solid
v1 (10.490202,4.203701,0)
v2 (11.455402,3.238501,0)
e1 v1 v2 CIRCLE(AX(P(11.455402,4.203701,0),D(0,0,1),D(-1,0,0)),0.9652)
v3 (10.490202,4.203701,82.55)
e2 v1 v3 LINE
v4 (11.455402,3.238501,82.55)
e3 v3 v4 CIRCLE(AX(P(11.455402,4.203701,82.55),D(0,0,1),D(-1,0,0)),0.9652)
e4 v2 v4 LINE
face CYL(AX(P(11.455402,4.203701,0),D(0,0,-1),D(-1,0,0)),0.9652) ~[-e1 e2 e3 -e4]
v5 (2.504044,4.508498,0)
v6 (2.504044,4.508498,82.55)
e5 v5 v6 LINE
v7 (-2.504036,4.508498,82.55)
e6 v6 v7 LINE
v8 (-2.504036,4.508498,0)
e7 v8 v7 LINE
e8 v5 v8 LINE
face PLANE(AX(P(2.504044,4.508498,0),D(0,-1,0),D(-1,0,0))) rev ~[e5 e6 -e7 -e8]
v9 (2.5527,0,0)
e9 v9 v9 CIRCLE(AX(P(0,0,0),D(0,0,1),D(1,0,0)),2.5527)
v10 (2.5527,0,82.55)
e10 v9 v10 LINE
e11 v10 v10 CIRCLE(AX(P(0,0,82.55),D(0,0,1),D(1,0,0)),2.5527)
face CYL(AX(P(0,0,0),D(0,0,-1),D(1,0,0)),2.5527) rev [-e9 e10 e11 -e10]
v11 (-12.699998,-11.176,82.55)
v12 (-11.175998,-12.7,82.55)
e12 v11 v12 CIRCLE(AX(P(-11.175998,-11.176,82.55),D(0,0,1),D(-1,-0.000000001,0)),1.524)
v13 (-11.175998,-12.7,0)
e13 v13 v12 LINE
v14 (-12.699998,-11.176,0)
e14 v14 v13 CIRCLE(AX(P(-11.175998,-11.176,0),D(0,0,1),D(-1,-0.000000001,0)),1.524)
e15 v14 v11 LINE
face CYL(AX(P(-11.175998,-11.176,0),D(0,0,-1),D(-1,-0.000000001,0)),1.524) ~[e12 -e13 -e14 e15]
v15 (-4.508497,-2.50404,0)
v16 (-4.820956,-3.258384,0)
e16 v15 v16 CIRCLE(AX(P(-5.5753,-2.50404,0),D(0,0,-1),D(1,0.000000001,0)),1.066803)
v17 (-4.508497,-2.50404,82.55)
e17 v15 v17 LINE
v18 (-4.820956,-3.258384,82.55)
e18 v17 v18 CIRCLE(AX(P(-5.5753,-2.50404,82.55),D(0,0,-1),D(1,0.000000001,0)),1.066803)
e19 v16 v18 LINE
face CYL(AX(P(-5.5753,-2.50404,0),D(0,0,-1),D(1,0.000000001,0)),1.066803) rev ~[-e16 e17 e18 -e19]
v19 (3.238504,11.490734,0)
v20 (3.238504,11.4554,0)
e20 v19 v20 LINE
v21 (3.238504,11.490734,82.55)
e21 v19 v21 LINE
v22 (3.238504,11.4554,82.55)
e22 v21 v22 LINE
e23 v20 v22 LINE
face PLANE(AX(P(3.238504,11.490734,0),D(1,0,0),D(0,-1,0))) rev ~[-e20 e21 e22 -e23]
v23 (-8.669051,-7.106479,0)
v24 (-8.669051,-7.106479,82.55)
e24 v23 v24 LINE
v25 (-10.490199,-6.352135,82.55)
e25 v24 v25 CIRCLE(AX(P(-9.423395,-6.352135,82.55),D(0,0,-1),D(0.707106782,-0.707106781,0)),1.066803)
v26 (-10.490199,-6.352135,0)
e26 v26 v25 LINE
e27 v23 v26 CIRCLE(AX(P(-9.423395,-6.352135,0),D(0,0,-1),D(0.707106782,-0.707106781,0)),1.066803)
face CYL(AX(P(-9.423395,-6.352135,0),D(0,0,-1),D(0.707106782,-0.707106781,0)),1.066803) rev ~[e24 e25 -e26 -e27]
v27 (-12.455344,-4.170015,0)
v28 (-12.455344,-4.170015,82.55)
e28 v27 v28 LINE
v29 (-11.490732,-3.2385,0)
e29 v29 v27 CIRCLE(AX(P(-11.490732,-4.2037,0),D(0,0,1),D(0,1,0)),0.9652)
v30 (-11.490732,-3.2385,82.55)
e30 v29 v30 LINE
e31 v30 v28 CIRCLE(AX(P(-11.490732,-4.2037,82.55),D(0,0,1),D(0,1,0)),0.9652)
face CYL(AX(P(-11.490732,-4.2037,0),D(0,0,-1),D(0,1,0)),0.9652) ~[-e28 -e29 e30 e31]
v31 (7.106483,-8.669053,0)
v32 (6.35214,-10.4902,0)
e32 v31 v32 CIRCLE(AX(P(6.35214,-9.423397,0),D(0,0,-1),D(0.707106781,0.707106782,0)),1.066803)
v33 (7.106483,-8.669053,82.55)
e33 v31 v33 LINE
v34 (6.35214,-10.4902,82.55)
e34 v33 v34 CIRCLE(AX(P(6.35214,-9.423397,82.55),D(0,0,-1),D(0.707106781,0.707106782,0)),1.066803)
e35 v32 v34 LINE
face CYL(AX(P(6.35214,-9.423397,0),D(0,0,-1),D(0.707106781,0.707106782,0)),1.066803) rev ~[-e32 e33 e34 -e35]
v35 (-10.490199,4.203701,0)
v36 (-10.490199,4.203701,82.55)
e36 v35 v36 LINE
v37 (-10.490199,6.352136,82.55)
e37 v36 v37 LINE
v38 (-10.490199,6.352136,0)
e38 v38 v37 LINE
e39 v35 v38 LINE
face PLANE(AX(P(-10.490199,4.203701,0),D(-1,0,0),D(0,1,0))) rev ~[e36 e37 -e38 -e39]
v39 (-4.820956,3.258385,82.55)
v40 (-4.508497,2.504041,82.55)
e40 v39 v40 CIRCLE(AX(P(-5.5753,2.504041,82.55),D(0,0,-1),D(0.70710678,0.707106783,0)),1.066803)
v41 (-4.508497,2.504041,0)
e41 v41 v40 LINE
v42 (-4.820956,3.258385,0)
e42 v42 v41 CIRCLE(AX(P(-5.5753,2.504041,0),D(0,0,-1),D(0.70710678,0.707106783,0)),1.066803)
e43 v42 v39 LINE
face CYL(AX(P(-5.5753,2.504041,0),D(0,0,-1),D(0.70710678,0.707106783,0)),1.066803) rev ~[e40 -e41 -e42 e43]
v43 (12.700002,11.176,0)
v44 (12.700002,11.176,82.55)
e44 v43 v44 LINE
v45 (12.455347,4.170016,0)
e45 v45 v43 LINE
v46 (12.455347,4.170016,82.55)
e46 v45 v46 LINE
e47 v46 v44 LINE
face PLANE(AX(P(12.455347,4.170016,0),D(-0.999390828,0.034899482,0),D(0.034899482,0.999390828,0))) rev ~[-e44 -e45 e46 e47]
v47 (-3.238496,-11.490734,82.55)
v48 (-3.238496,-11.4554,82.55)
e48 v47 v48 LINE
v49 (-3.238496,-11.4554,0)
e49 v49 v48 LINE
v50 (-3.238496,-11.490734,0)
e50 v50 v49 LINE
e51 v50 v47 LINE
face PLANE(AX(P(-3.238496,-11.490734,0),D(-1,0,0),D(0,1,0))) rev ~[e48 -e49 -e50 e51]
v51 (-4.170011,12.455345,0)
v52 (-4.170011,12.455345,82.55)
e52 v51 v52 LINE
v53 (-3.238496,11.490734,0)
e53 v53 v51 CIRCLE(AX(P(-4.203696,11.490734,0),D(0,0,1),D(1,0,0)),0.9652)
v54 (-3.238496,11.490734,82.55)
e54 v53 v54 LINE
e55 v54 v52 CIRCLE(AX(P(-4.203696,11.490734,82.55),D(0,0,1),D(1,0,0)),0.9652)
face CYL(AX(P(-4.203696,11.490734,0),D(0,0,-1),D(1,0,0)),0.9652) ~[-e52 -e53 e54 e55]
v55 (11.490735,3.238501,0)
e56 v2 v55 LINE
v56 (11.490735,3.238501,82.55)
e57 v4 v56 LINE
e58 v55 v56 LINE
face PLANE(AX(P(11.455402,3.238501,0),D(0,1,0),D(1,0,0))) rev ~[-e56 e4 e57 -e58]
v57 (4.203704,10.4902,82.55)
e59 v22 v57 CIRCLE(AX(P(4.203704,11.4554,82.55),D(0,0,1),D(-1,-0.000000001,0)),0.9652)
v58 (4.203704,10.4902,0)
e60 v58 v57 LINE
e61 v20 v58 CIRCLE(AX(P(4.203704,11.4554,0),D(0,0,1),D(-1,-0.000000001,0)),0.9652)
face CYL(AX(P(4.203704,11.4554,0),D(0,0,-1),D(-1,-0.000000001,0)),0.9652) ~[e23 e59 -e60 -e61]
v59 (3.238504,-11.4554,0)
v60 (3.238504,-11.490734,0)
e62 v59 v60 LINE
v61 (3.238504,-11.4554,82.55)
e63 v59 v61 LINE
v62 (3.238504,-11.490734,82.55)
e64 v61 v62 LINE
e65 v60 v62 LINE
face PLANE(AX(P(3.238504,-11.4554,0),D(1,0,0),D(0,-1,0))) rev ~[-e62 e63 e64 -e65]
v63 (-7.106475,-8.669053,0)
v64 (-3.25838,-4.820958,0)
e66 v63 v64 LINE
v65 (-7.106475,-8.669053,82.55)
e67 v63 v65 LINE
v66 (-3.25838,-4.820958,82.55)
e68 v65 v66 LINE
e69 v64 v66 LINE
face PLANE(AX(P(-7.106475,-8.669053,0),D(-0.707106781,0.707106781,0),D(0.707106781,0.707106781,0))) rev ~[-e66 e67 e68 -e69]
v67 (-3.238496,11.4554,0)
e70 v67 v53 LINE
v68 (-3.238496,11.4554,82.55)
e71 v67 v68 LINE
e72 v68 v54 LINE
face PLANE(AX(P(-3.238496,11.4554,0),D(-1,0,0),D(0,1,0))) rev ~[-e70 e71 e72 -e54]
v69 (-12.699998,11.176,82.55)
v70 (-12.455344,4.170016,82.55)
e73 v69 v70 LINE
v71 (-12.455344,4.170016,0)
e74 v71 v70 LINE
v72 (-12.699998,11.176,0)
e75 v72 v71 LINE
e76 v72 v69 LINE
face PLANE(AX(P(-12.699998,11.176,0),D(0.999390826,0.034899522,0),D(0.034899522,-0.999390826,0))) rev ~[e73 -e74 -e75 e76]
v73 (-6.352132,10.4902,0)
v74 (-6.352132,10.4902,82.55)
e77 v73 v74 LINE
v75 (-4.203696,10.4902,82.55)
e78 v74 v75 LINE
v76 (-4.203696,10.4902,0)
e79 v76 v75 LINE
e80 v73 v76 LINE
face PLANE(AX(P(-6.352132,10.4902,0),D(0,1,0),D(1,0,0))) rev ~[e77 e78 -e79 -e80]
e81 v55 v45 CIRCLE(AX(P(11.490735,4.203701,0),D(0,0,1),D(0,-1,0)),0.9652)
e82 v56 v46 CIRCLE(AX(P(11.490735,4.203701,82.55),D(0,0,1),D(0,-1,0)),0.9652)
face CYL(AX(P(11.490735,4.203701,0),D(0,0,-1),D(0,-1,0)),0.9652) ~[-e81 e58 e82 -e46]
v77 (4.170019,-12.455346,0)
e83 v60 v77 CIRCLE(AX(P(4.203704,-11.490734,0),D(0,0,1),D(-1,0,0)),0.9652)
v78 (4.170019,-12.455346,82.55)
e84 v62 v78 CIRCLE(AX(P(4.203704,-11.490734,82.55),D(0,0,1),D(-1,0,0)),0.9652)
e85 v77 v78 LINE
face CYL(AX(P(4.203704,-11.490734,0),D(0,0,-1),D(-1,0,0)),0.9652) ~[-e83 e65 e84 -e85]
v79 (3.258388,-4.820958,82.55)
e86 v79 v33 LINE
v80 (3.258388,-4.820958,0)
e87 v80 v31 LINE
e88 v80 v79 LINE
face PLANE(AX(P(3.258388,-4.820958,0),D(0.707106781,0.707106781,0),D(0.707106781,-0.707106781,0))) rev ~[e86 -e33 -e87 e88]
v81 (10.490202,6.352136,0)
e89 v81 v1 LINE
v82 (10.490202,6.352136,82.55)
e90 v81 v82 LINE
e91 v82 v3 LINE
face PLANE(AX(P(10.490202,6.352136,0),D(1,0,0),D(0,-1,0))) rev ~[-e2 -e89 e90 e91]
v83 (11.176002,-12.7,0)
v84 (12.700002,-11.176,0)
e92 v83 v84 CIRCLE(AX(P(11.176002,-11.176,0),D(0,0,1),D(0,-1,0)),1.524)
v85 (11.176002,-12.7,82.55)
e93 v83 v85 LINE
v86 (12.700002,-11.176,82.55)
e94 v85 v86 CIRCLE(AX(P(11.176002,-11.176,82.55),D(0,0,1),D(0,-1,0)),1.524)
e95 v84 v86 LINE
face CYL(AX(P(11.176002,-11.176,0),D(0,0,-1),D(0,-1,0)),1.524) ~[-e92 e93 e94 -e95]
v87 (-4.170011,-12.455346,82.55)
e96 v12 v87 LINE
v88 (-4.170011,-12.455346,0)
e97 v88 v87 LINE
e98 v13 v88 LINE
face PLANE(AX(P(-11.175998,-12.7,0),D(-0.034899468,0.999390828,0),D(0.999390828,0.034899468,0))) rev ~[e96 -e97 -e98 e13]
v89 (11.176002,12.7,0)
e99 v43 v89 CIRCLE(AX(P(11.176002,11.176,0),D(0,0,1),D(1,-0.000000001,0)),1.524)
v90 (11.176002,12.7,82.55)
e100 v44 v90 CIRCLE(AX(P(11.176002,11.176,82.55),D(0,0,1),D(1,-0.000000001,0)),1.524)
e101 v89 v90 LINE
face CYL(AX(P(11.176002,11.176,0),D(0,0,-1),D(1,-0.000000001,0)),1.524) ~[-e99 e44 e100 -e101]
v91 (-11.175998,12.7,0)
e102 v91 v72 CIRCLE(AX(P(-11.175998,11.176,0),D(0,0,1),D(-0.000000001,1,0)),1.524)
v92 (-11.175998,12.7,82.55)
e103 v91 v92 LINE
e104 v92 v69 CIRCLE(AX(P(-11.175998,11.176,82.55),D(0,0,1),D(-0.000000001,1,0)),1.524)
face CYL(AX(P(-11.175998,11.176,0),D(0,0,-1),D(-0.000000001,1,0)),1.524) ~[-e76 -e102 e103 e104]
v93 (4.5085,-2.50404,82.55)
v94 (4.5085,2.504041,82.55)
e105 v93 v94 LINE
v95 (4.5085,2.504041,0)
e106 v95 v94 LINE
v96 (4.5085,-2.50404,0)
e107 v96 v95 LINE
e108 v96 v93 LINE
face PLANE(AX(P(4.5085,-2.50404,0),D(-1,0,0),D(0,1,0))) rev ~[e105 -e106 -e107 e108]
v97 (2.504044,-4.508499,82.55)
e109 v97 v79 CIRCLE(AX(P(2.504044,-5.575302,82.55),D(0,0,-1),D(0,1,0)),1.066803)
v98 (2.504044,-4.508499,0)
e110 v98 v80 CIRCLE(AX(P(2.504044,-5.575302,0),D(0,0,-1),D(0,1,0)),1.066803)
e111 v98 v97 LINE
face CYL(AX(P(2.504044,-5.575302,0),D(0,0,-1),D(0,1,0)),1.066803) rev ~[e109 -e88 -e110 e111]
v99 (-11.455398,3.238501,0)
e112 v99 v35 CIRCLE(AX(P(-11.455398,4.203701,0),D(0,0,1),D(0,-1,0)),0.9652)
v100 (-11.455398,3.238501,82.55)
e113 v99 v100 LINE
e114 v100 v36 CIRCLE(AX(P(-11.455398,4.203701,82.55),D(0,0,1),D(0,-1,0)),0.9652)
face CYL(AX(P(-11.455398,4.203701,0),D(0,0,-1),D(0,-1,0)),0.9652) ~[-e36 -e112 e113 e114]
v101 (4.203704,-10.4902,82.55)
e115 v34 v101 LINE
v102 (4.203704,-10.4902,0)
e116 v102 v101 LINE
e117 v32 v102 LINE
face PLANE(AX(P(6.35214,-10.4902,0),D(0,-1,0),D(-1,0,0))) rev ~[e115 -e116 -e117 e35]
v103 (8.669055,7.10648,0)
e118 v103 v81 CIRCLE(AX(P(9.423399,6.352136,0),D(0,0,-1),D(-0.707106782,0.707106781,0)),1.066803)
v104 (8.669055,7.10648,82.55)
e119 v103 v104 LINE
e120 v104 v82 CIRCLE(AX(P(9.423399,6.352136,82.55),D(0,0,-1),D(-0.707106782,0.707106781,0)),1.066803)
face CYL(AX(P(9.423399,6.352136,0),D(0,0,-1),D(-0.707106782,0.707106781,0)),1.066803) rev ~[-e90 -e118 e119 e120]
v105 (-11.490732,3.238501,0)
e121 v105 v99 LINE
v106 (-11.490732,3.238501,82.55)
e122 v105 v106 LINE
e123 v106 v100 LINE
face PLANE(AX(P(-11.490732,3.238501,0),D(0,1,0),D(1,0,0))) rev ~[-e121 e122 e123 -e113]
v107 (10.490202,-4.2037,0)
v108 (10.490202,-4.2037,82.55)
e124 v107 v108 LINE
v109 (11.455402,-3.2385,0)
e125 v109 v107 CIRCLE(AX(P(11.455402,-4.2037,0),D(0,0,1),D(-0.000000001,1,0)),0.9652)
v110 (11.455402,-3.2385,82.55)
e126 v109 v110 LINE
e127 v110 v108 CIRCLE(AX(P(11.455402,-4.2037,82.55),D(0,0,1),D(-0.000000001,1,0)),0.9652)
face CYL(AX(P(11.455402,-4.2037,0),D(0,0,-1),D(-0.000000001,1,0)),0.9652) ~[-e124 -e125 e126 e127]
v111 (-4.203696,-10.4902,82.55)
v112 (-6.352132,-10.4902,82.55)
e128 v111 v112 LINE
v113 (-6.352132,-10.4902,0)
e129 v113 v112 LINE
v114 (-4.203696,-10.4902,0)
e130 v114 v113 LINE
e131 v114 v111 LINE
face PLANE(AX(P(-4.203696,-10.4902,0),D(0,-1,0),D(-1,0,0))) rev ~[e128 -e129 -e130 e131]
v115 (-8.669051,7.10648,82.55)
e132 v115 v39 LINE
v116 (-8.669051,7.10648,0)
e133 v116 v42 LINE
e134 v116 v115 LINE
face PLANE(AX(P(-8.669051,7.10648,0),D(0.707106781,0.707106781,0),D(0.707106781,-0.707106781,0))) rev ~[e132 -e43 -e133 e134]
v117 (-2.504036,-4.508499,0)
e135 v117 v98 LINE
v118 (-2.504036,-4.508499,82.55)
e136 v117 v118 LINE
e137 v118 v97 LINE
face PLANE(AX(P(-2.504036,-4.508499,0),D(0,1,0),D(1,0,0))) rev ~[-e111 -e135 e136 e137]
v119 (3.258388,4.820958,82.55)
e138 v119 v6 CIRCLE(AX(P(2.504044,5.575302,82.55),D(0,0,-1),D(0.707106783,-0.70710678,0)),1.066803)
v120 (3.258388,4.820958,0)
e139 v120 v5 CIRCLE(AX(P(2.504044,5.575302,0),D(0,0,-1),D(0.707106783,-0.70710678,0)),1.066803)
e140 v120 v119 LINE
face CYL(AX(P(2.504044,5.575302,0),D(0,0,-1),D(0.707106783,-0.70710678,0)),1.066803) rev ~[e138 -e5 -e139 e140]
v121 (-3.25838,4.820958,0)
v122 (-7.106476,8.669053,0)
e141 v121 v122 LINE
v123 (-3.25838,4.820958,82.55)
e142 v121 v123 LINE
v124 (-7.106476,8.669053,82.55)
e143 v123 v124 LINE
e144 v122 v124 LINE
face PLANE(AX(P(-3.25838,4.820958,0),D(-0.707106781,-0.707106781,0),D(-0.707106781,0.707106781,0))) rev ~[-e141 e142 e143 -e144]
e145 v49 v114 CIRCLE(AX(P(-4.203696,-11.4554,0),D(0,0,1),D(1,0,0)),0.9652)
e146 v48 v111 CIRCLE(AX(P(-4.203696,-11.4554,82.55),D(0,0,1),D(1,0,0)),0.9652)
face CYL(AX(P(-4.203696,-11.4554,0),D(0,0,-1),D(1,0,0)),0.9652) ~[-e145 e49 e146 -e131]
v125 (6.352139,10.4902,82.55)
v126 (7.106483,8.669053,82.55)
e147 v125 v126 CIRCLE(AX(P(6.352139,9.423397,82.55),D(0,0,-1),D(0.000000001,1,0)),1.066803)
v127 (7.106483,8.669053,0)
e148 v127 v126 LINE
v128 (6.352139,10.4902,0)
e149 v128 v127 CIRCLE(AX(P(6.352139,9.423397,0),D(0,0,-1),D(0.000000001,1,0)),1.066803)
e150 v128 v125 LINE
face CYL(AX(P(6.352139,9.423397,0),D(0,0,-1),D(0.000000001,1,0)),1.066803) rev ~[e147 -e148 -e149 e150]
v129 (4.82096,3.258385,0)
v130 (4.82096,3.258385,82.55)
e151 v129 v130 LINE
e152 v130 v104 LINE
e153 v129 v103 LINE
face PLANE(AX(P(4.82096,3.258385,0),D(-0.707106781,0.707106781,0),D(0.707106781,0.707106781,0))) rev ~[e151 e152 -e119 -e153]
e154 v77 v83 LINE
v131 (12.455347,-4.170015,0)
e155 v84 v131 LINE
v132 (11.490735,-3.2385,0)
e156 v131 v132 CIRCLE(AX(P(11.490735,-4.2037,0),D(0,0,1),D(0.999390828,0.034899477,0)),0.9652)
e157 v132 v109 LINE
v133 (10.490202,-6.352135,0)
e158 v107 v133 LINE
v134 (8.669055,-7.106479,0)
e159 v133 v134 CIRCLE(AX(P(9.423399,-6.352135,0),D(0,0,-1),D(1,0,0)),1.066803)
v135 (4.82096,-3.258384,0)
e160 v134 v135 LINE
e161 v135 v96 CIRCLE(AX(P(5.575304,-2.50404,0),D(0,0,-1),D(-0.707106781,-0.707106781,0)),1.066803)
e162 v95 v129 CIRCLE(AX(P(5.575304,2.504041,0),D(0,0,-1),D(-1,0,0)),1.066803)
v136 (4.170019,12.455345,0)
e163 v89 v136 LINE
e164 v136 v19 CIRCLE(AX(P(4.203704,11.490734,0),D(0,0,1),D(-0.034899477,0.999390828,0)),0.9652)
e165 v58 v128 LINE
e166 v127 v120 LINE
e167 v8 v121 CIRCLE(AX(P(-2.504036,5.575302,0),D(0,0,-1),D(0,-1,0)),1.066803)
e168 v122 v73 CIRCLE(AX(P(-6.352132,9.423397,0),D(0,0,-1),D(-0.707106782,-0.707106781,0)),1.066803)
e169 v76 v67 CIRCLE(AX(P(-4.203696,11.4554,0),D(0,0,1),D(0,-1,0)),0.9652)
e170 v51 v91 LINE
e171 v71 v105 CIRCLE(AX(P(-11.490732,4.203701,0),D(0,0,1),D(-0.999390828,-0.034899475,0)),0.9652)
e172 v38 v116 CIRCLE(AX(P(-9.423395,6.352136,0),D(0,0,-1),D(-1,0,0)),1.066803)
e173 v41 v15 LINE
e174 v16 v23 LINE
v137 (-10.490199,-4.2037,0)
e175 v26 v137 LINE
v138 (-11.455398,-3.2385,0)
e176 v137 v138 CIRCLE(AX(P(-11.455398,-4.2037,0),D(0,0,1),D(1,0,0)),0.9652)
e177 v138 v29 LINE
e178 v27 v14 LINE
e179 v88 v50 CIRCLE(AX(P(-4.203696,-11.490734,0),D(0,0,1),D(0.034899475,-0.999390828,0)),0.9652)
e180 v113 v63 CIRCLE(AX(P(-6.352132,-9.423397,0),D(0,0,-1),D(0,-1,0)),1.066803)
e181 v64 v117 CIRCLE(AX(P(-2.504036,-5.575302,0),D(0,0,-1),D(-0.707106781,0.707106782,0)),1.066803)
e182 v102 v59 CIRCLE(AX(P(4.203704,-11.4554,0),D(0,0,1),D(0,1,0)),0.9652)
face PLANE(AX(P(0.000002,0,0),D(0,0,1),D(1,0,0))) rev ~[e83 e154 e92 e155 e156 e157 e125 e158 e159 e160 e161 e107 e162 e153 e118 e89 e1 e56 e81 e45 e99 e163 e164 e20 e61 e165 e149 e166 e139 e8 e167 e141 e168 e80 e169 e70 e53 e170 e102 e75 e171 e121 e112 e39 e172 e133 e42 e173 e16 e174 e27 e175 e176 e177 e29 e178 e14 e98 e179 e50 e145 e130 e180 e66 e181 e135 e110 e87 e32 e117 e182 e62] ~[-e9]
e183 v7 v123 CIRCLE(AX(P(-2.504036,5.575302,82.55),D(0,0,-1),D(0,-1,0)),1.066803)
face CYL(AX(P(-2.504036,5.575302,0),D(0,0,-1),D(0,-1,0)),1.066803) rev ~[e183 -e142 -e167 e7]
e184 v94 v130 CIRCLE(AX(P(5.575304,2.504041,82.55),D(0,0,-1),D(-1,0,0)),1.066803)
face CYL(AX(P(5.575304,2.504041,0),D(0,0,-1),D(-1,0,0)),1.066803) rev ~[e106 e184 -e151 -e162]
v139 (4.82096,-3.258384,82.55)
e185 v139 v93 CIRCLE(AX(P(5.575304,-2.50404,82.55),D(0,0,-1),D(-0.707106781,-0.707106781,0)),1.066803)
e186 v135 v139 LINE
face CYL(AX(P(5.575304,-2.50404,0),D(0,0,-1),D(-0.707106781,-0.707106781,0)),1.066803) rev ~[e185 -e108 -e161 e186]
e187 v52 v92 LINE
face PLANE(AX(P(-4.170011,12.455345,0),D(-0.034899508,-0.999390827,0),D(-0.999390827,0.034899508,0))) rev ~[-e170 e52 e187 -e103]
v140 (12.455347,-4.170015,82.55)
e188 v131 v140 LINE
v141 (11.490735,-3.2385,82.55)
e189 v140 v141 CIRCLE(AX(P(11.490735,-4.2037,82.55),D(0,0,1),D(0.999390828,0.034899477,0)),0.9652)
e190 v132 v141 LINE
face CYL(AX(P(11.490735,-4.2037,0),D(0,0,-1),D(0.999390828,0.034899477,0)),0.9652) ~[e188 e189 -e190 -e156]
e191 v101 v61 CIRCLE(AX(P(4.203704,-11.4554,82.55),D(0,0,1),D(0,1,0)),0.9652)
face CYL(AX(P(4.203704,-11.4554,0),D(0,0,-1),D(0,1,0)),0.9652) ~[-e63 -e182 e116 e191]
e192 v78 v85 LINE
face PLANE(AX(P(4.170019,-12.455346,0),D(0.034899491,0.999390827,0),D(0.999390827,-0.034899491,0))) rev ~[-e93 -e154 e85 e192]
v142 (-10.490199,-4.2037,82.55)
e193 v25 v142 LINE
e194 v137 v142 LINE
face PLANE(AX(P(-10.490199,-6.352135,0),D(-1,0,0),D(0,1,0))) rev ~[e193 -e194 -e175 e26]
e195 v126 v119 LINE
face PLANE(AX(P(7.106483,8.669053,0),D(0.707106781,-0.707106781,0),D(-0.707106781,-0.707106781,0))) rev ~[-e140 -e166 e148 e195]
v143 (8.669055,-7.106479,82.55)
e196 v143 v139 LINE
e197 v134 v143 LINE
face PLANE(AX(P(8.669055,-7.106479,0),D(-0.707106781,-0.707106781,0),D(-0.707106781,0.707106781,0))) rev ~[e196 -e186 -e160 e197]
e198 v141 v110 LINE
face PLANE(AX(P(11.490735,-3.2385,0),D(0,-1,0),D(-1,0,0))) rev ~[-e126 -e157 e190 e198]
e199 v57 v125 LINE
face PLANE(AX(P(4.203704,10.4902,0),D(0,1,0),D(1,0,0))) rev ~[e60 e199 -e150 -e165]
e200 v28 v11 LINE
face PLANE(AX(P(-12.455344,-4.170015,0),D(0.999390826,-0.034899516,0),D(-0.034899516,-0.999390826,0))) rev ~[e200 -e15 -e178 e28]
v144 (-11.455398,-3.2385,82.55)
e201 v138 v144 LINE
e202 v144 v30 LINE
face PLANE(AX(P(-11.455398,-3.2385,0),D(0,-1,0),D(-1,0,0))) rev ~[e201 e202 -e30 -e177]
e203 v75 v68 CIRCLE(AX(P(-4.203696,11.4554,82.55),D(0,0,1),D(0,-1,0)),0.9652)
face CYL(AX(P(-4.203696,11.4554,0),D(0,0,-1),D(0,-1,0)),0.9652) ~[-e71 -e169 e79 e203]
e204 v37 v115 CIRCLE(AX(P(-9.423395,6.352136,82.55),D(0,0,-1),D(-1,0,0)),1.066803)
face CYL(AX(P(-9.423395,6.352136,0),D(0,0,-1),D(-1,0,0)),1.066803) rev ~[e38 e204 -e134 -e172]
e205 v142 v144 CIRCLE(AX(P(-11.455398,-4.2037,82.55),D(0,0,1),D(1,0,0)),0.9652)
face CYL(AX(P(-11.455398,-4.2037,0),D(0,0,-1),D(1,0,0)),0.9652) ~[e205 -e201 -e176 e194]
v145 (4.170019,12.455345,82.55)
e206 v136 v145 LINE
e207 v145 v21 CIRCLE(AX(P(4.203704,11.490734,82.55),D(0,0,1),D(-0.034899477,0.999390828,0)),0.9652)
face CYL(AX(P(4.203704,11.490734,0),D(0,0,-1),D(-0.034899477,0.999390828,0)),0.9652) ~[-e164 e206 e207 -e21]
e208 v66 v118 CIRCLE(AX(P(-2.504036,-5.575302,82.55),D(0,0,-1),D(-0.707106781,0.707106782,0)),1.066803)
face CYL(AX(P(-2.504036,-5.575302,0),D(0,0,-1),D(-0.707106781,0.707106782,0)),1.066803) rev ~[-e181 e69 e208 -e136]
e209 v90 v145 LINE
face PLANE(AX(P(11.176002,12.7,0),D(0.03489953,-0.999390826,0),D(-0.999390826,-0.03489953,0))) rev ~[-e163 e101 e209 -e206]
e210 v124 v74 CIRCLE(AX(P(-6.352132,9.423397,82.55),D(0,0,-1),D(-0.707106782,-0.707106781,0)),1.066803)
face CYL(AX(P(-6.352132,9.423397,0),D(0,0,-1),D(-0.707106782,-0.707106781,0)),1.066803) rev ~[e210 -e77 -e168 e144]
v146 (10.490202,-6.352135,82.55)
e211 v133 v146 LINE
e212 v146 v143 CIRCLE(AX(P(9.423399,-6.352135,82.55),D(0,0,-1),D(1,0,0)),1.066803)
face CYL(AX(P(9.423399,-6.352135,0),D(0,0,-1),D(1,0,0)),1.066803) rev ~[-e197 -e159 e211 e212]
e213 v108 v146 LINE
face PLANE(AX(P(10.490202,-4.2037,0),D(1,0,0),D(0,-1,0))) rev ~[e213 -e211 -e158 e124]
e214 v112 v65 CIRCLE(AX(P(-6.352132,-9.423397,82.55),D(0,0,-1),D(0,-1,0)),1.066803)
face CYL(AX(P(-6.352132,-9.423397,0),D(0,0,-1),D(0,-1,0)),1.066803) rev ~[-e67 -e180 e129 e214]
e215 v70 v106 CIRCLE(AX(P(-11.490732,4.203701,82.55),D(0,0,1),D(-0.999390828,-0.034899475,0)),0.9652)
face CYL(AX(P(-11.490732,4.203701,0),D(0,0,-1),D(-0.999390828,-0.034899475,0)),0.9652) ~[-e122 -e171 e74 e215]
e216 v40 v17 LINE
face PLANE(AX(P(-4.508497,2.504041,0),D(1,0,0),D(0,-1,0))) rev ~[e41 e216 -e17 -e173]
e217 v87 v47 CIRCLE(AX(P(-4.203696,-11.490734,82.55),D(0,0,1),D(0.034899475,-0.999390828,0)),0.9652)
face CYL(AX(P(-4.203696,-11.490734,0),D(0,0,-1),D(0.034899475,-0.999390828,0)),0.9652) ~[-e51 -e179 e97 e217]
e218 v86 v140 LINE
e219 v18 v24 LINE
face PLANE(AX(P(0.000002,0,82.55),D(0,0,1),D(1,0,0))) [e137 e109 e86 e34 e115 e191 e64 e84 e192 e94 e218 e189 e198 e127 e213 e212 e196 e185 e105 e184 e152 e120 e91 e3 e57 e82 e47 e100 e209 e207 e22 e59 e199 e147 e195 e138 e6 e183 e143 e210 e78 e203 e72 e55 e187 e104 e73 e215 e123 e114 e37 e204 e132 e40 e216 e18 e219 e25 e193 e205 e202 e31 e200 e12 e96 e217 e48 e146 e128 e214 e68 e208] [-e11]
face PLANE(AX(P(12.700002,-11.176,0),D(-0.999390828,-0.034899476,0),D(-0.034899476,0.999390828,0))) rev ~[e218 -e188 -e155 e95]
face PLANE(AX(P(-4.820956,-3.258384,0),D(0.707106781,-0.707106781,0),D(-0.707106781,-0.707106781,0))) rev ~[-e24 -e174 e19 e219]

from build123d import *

# Parameters (mm, degrees)
SKETCH1_R      = 2.5527
EXTRUDE1_DEPTH = 82.55


with BuildPart() as part:
    # Sketch1 → Extrude1 (new body)
    with BuildSketch(Plane.XY):
        with BuildLine():
            Line((3.238504286, -11.455400345), (3.238504286, -11.49073383))
            ThreePointArc((3.238504286, -11.49073383), (3.509397472, -12.161218003), (4.170019162, -12.455345741))
            Line((4.170019162, -12.455345741), (11.176001705, -12.7))
            ThreePointArc((11.176001705, -12.7), (12.253632411, -12.253630746), (12.700001664, -11.17600004))
            Line((12.700001664, -11.17600004), (12.455347406, -4.170014669))
            ThreePointArc((12.455347406, -4.170014669), (12.16121968, -3.509392954), (11.490735494, -3.238499755))
            Line((11.490735494, -3.238499755), (11.455402009, -3.238499755))
            ThreePointArc((11.455402009, -3.238499755), (10.772902626, -3.521200256), (10.490202125, -4.20369964))
            Line((10.490202125, -4.20369964), (10.490202125, -6.352134987))
            ThreePointArc((10.490202125, -6.352134987), (9.831646779, -7.337732713), (8.669054992, -7.106478829))
            Line((8.669054992, -7.106478829), (4.820959759, -3.258383596))
            ThreePointArc((4.820959759, -3.258383596), (4.589705874, -2.912287699), (4.508500309, -2.504039754))
            Line((4.508500309, -2.504039754), (4.508500309, 2.504040946))
            ThreePointArc((4.508500309, 2.504040946), (4.589705874, 2.912288891), (4.820959759, 3.258384788))
            Line((4.820959759, 3.258384788), (8.669054992, 7.106480021))
            ThreePointArc((8.669054992, 7.106480021), (9.831646779, 7.337733906), (10.490202125, 6.35213618))
            Line((10.490202125, 6.35213618), (10.490202125, 4.203700832))
            ThreePointArc((10.490202125, 4.203700832), (10.772902626, 3.521201448), (11.455402009, 3.238500947))
            Line((11.455402009, 3.238500947), (11.490735494, 3.238500947))
            ThreePointArc((11.490735494, 3.238500947), (12.161219667, 3.509394133), (12.455347406, 4.170015823))
            Line((12.455347406, 4.170015823), (12.700001664, 11.176000039))
            ThreePointArc((12.700001664, 11.176000039), (12.253632411, 12.253630745), (11.176001705, 12.699999999))
            Line((11.176001705, 12.699999999), (4.170019162, 12.455345462))
            ThreePointArc((4.170019162, 12.455345462), (3.509397447, 12.161217736), (3.238504248, 11.49073355))
            Line((3.238504248, 11.49073355), (3.238504248, 11.455400065))
            ThreePointArc((3.238504248, 11.455400065), (3.521204749, 10.772900682), (4.203704132, 10.490200181))
            Line((4.203704132, 10.490200181), (6.35213948, 10.490200181))
            ThreePointArc((6.35213948, 10.490200181), (7.337737205, 9.831644835), (7.106483322, 8.669053049))
            Line((7.106483322, 8.669053049), (3.258388088, 4.820957816))
            ThreePointArc((3.258388088, 4.820957816), (2.912292192, 4.589703931), (2.504044247, 4.508498366))
            Line((2.504044247, 4.508498366), (-2.504036453, 4.508498366))
            ThreePointArc((-2.504036453, 4.508498366), (-2.912284398, 4.589703931), (-3.258380295, 4.820957816))
            Line((-3.258380295, 4.820957816), (-7.106475528, 8.669053049))
            ThreePointArc((-7.106475528, 8.669053049), (-7.337729412, 9.831644836), (-6.352131686, 10.490200182))
            Line((-6.352131686, 10.490200182), (-4.203696339, 10.490200182))
            ThreePointArc((-4.203696339, 10.490200182), (-3.521196955, 10.772900683), (-3.238496454, 11.455400067))
            Line((-3.238496454, 11.455400067), (-3.238496454, 11.490733551))
            ThreePointArc((-3.238496454, 11.490733551), (-3.50938964, 12.161217724), (-4.17001133, 12.455345462))
            Line((-4.17001133, 12.455345462), (-11.175998375, 12.699999999))
            ThreePointArc((-11.175998375, 12.699999999), (-12.253629081, 12.253630745), (-12.699998335, 11.176000039))
            Line((-12.699998335, 11.176000039), (-12.455343798, 4.170015823))
            ThreePointArc((-12.455343798, 4.170015823), (-12.161216073, 3.509394108), (-11.490731887, 3.238500909))
            Line((-11.490731887, 3.238500909), (-11.455398403, 3.238500909))
            ThreePointArc((-11.455398403, 3.238500909), (-10.772899019, 3.52120141), (-10.490198518, 4.203700793))
            Line((-10.490198518, 4.203700793), (-10.490198518, 6.352136141))
            ThreePointArc((-10.490198518, 6.352136141), (-9.831643172, 7.337733867), (-8.669051385, 7.106479983))
            Line((-8.669051385, 7.106479983), (-4.820956152, 3.258384749))
            ThreePointArc((-4.820956152, 3.258384749), (-4.589702267, 2.912288853), (-4.508496702, 2.504040908))
            Line((-4.508496702, 2.504040908), (-4.508496702, -2.504039793))
            ThreePointArc((-4.508496702, -2.504039793), (-4.589702267, -2.912287738), (-4.820956152, -3.258383634))
            Line((-4.820956152, -3.258383634), (-8.669051385, -7.106478867))
            ThreePointArc((-8.669051385, -7.106478867), (-9.831643172, -7.337732752), (-10.490198518, -6.352135026))
            Line((-10.490198518, -6.352135026), (-10.490198518, -4.203699678))
            ThreePointArc((-10.490198518, -4.203699678), (-10.772899019, -3.521200294), (-11.455398403, -3.238499793))
            Line((-11.455398403, -3.238499793), (-11.490731887, -3.238499793))
            ThreePointArc((-11.490731887, -3.238499793), (-12.16121606, -3.509392979), (-12.455343798, -4.170014669))
            Line((-12.455343798, -4.170014669), (-12.699998335, -11.17600004))
            ThreePointArc((-12.699998335, -11.17600004), (-12.253629081, -12.253630746), (-11.175998375, -12.7))
            Line((-11.175998375, -12.7), (-4.17001133, -12.455345741))
            ThreePointArc((-4.17001133, -12.455345741), (-3.509389615, -12.161218016), (-3.238496416, -11.49073383))
            Line((-3.238496416, -11.49073383), (-3.238496416, -11.455400345))
            ThreePointArc((-3.238496416, -11.455400345), (-3.521196917, -10.772900961), (-4.2036963, -10.49020046))
            Line((-4.2036963, -10.49020046), (-6.352131648, -10.49020046))
            ThreePointArc((-6.352131648, -10.49020046), (-7.337729374, -9.831645114), (-7.106475489, -8.669053328))
            Line((-7.106475489, -8.669053328), (-3.258380256, -4.820958094))
            ThreePointArc((-3.258380256, -4.820958094), (-2.91228436, -4.58970421), (-2.504036415, -4.508498645))
            Line((-2.504036415, -4.508498645), (2.504044285, -4.508498645))
            ThreePointArc((2.504044285, -4.508498645), (2.91229223, -4.58970421), (3.258388127, -4.820958094))
            Line((3.258388127, -4.820958094), (7.10648336, -8.669053328))
            ThreePointArc((7.10648336, -8.669053328), (7.337737245, -9.831645114), (6.352139519, -10.49020046))
            Line((6.352139519, -10.49020046), (4.203704171, -10.49020046))
            ThreePointArc((4.203704171, -10.49020046), (3.521204787, -10.772900961), (3.238504286, -11.455400345))
        make_face()
        Circle(SKETCH1_R, mode=Mode.SUBTRACT)
    extrude(amount=EXTRUDE1_DEPTH)


solid = part.part
